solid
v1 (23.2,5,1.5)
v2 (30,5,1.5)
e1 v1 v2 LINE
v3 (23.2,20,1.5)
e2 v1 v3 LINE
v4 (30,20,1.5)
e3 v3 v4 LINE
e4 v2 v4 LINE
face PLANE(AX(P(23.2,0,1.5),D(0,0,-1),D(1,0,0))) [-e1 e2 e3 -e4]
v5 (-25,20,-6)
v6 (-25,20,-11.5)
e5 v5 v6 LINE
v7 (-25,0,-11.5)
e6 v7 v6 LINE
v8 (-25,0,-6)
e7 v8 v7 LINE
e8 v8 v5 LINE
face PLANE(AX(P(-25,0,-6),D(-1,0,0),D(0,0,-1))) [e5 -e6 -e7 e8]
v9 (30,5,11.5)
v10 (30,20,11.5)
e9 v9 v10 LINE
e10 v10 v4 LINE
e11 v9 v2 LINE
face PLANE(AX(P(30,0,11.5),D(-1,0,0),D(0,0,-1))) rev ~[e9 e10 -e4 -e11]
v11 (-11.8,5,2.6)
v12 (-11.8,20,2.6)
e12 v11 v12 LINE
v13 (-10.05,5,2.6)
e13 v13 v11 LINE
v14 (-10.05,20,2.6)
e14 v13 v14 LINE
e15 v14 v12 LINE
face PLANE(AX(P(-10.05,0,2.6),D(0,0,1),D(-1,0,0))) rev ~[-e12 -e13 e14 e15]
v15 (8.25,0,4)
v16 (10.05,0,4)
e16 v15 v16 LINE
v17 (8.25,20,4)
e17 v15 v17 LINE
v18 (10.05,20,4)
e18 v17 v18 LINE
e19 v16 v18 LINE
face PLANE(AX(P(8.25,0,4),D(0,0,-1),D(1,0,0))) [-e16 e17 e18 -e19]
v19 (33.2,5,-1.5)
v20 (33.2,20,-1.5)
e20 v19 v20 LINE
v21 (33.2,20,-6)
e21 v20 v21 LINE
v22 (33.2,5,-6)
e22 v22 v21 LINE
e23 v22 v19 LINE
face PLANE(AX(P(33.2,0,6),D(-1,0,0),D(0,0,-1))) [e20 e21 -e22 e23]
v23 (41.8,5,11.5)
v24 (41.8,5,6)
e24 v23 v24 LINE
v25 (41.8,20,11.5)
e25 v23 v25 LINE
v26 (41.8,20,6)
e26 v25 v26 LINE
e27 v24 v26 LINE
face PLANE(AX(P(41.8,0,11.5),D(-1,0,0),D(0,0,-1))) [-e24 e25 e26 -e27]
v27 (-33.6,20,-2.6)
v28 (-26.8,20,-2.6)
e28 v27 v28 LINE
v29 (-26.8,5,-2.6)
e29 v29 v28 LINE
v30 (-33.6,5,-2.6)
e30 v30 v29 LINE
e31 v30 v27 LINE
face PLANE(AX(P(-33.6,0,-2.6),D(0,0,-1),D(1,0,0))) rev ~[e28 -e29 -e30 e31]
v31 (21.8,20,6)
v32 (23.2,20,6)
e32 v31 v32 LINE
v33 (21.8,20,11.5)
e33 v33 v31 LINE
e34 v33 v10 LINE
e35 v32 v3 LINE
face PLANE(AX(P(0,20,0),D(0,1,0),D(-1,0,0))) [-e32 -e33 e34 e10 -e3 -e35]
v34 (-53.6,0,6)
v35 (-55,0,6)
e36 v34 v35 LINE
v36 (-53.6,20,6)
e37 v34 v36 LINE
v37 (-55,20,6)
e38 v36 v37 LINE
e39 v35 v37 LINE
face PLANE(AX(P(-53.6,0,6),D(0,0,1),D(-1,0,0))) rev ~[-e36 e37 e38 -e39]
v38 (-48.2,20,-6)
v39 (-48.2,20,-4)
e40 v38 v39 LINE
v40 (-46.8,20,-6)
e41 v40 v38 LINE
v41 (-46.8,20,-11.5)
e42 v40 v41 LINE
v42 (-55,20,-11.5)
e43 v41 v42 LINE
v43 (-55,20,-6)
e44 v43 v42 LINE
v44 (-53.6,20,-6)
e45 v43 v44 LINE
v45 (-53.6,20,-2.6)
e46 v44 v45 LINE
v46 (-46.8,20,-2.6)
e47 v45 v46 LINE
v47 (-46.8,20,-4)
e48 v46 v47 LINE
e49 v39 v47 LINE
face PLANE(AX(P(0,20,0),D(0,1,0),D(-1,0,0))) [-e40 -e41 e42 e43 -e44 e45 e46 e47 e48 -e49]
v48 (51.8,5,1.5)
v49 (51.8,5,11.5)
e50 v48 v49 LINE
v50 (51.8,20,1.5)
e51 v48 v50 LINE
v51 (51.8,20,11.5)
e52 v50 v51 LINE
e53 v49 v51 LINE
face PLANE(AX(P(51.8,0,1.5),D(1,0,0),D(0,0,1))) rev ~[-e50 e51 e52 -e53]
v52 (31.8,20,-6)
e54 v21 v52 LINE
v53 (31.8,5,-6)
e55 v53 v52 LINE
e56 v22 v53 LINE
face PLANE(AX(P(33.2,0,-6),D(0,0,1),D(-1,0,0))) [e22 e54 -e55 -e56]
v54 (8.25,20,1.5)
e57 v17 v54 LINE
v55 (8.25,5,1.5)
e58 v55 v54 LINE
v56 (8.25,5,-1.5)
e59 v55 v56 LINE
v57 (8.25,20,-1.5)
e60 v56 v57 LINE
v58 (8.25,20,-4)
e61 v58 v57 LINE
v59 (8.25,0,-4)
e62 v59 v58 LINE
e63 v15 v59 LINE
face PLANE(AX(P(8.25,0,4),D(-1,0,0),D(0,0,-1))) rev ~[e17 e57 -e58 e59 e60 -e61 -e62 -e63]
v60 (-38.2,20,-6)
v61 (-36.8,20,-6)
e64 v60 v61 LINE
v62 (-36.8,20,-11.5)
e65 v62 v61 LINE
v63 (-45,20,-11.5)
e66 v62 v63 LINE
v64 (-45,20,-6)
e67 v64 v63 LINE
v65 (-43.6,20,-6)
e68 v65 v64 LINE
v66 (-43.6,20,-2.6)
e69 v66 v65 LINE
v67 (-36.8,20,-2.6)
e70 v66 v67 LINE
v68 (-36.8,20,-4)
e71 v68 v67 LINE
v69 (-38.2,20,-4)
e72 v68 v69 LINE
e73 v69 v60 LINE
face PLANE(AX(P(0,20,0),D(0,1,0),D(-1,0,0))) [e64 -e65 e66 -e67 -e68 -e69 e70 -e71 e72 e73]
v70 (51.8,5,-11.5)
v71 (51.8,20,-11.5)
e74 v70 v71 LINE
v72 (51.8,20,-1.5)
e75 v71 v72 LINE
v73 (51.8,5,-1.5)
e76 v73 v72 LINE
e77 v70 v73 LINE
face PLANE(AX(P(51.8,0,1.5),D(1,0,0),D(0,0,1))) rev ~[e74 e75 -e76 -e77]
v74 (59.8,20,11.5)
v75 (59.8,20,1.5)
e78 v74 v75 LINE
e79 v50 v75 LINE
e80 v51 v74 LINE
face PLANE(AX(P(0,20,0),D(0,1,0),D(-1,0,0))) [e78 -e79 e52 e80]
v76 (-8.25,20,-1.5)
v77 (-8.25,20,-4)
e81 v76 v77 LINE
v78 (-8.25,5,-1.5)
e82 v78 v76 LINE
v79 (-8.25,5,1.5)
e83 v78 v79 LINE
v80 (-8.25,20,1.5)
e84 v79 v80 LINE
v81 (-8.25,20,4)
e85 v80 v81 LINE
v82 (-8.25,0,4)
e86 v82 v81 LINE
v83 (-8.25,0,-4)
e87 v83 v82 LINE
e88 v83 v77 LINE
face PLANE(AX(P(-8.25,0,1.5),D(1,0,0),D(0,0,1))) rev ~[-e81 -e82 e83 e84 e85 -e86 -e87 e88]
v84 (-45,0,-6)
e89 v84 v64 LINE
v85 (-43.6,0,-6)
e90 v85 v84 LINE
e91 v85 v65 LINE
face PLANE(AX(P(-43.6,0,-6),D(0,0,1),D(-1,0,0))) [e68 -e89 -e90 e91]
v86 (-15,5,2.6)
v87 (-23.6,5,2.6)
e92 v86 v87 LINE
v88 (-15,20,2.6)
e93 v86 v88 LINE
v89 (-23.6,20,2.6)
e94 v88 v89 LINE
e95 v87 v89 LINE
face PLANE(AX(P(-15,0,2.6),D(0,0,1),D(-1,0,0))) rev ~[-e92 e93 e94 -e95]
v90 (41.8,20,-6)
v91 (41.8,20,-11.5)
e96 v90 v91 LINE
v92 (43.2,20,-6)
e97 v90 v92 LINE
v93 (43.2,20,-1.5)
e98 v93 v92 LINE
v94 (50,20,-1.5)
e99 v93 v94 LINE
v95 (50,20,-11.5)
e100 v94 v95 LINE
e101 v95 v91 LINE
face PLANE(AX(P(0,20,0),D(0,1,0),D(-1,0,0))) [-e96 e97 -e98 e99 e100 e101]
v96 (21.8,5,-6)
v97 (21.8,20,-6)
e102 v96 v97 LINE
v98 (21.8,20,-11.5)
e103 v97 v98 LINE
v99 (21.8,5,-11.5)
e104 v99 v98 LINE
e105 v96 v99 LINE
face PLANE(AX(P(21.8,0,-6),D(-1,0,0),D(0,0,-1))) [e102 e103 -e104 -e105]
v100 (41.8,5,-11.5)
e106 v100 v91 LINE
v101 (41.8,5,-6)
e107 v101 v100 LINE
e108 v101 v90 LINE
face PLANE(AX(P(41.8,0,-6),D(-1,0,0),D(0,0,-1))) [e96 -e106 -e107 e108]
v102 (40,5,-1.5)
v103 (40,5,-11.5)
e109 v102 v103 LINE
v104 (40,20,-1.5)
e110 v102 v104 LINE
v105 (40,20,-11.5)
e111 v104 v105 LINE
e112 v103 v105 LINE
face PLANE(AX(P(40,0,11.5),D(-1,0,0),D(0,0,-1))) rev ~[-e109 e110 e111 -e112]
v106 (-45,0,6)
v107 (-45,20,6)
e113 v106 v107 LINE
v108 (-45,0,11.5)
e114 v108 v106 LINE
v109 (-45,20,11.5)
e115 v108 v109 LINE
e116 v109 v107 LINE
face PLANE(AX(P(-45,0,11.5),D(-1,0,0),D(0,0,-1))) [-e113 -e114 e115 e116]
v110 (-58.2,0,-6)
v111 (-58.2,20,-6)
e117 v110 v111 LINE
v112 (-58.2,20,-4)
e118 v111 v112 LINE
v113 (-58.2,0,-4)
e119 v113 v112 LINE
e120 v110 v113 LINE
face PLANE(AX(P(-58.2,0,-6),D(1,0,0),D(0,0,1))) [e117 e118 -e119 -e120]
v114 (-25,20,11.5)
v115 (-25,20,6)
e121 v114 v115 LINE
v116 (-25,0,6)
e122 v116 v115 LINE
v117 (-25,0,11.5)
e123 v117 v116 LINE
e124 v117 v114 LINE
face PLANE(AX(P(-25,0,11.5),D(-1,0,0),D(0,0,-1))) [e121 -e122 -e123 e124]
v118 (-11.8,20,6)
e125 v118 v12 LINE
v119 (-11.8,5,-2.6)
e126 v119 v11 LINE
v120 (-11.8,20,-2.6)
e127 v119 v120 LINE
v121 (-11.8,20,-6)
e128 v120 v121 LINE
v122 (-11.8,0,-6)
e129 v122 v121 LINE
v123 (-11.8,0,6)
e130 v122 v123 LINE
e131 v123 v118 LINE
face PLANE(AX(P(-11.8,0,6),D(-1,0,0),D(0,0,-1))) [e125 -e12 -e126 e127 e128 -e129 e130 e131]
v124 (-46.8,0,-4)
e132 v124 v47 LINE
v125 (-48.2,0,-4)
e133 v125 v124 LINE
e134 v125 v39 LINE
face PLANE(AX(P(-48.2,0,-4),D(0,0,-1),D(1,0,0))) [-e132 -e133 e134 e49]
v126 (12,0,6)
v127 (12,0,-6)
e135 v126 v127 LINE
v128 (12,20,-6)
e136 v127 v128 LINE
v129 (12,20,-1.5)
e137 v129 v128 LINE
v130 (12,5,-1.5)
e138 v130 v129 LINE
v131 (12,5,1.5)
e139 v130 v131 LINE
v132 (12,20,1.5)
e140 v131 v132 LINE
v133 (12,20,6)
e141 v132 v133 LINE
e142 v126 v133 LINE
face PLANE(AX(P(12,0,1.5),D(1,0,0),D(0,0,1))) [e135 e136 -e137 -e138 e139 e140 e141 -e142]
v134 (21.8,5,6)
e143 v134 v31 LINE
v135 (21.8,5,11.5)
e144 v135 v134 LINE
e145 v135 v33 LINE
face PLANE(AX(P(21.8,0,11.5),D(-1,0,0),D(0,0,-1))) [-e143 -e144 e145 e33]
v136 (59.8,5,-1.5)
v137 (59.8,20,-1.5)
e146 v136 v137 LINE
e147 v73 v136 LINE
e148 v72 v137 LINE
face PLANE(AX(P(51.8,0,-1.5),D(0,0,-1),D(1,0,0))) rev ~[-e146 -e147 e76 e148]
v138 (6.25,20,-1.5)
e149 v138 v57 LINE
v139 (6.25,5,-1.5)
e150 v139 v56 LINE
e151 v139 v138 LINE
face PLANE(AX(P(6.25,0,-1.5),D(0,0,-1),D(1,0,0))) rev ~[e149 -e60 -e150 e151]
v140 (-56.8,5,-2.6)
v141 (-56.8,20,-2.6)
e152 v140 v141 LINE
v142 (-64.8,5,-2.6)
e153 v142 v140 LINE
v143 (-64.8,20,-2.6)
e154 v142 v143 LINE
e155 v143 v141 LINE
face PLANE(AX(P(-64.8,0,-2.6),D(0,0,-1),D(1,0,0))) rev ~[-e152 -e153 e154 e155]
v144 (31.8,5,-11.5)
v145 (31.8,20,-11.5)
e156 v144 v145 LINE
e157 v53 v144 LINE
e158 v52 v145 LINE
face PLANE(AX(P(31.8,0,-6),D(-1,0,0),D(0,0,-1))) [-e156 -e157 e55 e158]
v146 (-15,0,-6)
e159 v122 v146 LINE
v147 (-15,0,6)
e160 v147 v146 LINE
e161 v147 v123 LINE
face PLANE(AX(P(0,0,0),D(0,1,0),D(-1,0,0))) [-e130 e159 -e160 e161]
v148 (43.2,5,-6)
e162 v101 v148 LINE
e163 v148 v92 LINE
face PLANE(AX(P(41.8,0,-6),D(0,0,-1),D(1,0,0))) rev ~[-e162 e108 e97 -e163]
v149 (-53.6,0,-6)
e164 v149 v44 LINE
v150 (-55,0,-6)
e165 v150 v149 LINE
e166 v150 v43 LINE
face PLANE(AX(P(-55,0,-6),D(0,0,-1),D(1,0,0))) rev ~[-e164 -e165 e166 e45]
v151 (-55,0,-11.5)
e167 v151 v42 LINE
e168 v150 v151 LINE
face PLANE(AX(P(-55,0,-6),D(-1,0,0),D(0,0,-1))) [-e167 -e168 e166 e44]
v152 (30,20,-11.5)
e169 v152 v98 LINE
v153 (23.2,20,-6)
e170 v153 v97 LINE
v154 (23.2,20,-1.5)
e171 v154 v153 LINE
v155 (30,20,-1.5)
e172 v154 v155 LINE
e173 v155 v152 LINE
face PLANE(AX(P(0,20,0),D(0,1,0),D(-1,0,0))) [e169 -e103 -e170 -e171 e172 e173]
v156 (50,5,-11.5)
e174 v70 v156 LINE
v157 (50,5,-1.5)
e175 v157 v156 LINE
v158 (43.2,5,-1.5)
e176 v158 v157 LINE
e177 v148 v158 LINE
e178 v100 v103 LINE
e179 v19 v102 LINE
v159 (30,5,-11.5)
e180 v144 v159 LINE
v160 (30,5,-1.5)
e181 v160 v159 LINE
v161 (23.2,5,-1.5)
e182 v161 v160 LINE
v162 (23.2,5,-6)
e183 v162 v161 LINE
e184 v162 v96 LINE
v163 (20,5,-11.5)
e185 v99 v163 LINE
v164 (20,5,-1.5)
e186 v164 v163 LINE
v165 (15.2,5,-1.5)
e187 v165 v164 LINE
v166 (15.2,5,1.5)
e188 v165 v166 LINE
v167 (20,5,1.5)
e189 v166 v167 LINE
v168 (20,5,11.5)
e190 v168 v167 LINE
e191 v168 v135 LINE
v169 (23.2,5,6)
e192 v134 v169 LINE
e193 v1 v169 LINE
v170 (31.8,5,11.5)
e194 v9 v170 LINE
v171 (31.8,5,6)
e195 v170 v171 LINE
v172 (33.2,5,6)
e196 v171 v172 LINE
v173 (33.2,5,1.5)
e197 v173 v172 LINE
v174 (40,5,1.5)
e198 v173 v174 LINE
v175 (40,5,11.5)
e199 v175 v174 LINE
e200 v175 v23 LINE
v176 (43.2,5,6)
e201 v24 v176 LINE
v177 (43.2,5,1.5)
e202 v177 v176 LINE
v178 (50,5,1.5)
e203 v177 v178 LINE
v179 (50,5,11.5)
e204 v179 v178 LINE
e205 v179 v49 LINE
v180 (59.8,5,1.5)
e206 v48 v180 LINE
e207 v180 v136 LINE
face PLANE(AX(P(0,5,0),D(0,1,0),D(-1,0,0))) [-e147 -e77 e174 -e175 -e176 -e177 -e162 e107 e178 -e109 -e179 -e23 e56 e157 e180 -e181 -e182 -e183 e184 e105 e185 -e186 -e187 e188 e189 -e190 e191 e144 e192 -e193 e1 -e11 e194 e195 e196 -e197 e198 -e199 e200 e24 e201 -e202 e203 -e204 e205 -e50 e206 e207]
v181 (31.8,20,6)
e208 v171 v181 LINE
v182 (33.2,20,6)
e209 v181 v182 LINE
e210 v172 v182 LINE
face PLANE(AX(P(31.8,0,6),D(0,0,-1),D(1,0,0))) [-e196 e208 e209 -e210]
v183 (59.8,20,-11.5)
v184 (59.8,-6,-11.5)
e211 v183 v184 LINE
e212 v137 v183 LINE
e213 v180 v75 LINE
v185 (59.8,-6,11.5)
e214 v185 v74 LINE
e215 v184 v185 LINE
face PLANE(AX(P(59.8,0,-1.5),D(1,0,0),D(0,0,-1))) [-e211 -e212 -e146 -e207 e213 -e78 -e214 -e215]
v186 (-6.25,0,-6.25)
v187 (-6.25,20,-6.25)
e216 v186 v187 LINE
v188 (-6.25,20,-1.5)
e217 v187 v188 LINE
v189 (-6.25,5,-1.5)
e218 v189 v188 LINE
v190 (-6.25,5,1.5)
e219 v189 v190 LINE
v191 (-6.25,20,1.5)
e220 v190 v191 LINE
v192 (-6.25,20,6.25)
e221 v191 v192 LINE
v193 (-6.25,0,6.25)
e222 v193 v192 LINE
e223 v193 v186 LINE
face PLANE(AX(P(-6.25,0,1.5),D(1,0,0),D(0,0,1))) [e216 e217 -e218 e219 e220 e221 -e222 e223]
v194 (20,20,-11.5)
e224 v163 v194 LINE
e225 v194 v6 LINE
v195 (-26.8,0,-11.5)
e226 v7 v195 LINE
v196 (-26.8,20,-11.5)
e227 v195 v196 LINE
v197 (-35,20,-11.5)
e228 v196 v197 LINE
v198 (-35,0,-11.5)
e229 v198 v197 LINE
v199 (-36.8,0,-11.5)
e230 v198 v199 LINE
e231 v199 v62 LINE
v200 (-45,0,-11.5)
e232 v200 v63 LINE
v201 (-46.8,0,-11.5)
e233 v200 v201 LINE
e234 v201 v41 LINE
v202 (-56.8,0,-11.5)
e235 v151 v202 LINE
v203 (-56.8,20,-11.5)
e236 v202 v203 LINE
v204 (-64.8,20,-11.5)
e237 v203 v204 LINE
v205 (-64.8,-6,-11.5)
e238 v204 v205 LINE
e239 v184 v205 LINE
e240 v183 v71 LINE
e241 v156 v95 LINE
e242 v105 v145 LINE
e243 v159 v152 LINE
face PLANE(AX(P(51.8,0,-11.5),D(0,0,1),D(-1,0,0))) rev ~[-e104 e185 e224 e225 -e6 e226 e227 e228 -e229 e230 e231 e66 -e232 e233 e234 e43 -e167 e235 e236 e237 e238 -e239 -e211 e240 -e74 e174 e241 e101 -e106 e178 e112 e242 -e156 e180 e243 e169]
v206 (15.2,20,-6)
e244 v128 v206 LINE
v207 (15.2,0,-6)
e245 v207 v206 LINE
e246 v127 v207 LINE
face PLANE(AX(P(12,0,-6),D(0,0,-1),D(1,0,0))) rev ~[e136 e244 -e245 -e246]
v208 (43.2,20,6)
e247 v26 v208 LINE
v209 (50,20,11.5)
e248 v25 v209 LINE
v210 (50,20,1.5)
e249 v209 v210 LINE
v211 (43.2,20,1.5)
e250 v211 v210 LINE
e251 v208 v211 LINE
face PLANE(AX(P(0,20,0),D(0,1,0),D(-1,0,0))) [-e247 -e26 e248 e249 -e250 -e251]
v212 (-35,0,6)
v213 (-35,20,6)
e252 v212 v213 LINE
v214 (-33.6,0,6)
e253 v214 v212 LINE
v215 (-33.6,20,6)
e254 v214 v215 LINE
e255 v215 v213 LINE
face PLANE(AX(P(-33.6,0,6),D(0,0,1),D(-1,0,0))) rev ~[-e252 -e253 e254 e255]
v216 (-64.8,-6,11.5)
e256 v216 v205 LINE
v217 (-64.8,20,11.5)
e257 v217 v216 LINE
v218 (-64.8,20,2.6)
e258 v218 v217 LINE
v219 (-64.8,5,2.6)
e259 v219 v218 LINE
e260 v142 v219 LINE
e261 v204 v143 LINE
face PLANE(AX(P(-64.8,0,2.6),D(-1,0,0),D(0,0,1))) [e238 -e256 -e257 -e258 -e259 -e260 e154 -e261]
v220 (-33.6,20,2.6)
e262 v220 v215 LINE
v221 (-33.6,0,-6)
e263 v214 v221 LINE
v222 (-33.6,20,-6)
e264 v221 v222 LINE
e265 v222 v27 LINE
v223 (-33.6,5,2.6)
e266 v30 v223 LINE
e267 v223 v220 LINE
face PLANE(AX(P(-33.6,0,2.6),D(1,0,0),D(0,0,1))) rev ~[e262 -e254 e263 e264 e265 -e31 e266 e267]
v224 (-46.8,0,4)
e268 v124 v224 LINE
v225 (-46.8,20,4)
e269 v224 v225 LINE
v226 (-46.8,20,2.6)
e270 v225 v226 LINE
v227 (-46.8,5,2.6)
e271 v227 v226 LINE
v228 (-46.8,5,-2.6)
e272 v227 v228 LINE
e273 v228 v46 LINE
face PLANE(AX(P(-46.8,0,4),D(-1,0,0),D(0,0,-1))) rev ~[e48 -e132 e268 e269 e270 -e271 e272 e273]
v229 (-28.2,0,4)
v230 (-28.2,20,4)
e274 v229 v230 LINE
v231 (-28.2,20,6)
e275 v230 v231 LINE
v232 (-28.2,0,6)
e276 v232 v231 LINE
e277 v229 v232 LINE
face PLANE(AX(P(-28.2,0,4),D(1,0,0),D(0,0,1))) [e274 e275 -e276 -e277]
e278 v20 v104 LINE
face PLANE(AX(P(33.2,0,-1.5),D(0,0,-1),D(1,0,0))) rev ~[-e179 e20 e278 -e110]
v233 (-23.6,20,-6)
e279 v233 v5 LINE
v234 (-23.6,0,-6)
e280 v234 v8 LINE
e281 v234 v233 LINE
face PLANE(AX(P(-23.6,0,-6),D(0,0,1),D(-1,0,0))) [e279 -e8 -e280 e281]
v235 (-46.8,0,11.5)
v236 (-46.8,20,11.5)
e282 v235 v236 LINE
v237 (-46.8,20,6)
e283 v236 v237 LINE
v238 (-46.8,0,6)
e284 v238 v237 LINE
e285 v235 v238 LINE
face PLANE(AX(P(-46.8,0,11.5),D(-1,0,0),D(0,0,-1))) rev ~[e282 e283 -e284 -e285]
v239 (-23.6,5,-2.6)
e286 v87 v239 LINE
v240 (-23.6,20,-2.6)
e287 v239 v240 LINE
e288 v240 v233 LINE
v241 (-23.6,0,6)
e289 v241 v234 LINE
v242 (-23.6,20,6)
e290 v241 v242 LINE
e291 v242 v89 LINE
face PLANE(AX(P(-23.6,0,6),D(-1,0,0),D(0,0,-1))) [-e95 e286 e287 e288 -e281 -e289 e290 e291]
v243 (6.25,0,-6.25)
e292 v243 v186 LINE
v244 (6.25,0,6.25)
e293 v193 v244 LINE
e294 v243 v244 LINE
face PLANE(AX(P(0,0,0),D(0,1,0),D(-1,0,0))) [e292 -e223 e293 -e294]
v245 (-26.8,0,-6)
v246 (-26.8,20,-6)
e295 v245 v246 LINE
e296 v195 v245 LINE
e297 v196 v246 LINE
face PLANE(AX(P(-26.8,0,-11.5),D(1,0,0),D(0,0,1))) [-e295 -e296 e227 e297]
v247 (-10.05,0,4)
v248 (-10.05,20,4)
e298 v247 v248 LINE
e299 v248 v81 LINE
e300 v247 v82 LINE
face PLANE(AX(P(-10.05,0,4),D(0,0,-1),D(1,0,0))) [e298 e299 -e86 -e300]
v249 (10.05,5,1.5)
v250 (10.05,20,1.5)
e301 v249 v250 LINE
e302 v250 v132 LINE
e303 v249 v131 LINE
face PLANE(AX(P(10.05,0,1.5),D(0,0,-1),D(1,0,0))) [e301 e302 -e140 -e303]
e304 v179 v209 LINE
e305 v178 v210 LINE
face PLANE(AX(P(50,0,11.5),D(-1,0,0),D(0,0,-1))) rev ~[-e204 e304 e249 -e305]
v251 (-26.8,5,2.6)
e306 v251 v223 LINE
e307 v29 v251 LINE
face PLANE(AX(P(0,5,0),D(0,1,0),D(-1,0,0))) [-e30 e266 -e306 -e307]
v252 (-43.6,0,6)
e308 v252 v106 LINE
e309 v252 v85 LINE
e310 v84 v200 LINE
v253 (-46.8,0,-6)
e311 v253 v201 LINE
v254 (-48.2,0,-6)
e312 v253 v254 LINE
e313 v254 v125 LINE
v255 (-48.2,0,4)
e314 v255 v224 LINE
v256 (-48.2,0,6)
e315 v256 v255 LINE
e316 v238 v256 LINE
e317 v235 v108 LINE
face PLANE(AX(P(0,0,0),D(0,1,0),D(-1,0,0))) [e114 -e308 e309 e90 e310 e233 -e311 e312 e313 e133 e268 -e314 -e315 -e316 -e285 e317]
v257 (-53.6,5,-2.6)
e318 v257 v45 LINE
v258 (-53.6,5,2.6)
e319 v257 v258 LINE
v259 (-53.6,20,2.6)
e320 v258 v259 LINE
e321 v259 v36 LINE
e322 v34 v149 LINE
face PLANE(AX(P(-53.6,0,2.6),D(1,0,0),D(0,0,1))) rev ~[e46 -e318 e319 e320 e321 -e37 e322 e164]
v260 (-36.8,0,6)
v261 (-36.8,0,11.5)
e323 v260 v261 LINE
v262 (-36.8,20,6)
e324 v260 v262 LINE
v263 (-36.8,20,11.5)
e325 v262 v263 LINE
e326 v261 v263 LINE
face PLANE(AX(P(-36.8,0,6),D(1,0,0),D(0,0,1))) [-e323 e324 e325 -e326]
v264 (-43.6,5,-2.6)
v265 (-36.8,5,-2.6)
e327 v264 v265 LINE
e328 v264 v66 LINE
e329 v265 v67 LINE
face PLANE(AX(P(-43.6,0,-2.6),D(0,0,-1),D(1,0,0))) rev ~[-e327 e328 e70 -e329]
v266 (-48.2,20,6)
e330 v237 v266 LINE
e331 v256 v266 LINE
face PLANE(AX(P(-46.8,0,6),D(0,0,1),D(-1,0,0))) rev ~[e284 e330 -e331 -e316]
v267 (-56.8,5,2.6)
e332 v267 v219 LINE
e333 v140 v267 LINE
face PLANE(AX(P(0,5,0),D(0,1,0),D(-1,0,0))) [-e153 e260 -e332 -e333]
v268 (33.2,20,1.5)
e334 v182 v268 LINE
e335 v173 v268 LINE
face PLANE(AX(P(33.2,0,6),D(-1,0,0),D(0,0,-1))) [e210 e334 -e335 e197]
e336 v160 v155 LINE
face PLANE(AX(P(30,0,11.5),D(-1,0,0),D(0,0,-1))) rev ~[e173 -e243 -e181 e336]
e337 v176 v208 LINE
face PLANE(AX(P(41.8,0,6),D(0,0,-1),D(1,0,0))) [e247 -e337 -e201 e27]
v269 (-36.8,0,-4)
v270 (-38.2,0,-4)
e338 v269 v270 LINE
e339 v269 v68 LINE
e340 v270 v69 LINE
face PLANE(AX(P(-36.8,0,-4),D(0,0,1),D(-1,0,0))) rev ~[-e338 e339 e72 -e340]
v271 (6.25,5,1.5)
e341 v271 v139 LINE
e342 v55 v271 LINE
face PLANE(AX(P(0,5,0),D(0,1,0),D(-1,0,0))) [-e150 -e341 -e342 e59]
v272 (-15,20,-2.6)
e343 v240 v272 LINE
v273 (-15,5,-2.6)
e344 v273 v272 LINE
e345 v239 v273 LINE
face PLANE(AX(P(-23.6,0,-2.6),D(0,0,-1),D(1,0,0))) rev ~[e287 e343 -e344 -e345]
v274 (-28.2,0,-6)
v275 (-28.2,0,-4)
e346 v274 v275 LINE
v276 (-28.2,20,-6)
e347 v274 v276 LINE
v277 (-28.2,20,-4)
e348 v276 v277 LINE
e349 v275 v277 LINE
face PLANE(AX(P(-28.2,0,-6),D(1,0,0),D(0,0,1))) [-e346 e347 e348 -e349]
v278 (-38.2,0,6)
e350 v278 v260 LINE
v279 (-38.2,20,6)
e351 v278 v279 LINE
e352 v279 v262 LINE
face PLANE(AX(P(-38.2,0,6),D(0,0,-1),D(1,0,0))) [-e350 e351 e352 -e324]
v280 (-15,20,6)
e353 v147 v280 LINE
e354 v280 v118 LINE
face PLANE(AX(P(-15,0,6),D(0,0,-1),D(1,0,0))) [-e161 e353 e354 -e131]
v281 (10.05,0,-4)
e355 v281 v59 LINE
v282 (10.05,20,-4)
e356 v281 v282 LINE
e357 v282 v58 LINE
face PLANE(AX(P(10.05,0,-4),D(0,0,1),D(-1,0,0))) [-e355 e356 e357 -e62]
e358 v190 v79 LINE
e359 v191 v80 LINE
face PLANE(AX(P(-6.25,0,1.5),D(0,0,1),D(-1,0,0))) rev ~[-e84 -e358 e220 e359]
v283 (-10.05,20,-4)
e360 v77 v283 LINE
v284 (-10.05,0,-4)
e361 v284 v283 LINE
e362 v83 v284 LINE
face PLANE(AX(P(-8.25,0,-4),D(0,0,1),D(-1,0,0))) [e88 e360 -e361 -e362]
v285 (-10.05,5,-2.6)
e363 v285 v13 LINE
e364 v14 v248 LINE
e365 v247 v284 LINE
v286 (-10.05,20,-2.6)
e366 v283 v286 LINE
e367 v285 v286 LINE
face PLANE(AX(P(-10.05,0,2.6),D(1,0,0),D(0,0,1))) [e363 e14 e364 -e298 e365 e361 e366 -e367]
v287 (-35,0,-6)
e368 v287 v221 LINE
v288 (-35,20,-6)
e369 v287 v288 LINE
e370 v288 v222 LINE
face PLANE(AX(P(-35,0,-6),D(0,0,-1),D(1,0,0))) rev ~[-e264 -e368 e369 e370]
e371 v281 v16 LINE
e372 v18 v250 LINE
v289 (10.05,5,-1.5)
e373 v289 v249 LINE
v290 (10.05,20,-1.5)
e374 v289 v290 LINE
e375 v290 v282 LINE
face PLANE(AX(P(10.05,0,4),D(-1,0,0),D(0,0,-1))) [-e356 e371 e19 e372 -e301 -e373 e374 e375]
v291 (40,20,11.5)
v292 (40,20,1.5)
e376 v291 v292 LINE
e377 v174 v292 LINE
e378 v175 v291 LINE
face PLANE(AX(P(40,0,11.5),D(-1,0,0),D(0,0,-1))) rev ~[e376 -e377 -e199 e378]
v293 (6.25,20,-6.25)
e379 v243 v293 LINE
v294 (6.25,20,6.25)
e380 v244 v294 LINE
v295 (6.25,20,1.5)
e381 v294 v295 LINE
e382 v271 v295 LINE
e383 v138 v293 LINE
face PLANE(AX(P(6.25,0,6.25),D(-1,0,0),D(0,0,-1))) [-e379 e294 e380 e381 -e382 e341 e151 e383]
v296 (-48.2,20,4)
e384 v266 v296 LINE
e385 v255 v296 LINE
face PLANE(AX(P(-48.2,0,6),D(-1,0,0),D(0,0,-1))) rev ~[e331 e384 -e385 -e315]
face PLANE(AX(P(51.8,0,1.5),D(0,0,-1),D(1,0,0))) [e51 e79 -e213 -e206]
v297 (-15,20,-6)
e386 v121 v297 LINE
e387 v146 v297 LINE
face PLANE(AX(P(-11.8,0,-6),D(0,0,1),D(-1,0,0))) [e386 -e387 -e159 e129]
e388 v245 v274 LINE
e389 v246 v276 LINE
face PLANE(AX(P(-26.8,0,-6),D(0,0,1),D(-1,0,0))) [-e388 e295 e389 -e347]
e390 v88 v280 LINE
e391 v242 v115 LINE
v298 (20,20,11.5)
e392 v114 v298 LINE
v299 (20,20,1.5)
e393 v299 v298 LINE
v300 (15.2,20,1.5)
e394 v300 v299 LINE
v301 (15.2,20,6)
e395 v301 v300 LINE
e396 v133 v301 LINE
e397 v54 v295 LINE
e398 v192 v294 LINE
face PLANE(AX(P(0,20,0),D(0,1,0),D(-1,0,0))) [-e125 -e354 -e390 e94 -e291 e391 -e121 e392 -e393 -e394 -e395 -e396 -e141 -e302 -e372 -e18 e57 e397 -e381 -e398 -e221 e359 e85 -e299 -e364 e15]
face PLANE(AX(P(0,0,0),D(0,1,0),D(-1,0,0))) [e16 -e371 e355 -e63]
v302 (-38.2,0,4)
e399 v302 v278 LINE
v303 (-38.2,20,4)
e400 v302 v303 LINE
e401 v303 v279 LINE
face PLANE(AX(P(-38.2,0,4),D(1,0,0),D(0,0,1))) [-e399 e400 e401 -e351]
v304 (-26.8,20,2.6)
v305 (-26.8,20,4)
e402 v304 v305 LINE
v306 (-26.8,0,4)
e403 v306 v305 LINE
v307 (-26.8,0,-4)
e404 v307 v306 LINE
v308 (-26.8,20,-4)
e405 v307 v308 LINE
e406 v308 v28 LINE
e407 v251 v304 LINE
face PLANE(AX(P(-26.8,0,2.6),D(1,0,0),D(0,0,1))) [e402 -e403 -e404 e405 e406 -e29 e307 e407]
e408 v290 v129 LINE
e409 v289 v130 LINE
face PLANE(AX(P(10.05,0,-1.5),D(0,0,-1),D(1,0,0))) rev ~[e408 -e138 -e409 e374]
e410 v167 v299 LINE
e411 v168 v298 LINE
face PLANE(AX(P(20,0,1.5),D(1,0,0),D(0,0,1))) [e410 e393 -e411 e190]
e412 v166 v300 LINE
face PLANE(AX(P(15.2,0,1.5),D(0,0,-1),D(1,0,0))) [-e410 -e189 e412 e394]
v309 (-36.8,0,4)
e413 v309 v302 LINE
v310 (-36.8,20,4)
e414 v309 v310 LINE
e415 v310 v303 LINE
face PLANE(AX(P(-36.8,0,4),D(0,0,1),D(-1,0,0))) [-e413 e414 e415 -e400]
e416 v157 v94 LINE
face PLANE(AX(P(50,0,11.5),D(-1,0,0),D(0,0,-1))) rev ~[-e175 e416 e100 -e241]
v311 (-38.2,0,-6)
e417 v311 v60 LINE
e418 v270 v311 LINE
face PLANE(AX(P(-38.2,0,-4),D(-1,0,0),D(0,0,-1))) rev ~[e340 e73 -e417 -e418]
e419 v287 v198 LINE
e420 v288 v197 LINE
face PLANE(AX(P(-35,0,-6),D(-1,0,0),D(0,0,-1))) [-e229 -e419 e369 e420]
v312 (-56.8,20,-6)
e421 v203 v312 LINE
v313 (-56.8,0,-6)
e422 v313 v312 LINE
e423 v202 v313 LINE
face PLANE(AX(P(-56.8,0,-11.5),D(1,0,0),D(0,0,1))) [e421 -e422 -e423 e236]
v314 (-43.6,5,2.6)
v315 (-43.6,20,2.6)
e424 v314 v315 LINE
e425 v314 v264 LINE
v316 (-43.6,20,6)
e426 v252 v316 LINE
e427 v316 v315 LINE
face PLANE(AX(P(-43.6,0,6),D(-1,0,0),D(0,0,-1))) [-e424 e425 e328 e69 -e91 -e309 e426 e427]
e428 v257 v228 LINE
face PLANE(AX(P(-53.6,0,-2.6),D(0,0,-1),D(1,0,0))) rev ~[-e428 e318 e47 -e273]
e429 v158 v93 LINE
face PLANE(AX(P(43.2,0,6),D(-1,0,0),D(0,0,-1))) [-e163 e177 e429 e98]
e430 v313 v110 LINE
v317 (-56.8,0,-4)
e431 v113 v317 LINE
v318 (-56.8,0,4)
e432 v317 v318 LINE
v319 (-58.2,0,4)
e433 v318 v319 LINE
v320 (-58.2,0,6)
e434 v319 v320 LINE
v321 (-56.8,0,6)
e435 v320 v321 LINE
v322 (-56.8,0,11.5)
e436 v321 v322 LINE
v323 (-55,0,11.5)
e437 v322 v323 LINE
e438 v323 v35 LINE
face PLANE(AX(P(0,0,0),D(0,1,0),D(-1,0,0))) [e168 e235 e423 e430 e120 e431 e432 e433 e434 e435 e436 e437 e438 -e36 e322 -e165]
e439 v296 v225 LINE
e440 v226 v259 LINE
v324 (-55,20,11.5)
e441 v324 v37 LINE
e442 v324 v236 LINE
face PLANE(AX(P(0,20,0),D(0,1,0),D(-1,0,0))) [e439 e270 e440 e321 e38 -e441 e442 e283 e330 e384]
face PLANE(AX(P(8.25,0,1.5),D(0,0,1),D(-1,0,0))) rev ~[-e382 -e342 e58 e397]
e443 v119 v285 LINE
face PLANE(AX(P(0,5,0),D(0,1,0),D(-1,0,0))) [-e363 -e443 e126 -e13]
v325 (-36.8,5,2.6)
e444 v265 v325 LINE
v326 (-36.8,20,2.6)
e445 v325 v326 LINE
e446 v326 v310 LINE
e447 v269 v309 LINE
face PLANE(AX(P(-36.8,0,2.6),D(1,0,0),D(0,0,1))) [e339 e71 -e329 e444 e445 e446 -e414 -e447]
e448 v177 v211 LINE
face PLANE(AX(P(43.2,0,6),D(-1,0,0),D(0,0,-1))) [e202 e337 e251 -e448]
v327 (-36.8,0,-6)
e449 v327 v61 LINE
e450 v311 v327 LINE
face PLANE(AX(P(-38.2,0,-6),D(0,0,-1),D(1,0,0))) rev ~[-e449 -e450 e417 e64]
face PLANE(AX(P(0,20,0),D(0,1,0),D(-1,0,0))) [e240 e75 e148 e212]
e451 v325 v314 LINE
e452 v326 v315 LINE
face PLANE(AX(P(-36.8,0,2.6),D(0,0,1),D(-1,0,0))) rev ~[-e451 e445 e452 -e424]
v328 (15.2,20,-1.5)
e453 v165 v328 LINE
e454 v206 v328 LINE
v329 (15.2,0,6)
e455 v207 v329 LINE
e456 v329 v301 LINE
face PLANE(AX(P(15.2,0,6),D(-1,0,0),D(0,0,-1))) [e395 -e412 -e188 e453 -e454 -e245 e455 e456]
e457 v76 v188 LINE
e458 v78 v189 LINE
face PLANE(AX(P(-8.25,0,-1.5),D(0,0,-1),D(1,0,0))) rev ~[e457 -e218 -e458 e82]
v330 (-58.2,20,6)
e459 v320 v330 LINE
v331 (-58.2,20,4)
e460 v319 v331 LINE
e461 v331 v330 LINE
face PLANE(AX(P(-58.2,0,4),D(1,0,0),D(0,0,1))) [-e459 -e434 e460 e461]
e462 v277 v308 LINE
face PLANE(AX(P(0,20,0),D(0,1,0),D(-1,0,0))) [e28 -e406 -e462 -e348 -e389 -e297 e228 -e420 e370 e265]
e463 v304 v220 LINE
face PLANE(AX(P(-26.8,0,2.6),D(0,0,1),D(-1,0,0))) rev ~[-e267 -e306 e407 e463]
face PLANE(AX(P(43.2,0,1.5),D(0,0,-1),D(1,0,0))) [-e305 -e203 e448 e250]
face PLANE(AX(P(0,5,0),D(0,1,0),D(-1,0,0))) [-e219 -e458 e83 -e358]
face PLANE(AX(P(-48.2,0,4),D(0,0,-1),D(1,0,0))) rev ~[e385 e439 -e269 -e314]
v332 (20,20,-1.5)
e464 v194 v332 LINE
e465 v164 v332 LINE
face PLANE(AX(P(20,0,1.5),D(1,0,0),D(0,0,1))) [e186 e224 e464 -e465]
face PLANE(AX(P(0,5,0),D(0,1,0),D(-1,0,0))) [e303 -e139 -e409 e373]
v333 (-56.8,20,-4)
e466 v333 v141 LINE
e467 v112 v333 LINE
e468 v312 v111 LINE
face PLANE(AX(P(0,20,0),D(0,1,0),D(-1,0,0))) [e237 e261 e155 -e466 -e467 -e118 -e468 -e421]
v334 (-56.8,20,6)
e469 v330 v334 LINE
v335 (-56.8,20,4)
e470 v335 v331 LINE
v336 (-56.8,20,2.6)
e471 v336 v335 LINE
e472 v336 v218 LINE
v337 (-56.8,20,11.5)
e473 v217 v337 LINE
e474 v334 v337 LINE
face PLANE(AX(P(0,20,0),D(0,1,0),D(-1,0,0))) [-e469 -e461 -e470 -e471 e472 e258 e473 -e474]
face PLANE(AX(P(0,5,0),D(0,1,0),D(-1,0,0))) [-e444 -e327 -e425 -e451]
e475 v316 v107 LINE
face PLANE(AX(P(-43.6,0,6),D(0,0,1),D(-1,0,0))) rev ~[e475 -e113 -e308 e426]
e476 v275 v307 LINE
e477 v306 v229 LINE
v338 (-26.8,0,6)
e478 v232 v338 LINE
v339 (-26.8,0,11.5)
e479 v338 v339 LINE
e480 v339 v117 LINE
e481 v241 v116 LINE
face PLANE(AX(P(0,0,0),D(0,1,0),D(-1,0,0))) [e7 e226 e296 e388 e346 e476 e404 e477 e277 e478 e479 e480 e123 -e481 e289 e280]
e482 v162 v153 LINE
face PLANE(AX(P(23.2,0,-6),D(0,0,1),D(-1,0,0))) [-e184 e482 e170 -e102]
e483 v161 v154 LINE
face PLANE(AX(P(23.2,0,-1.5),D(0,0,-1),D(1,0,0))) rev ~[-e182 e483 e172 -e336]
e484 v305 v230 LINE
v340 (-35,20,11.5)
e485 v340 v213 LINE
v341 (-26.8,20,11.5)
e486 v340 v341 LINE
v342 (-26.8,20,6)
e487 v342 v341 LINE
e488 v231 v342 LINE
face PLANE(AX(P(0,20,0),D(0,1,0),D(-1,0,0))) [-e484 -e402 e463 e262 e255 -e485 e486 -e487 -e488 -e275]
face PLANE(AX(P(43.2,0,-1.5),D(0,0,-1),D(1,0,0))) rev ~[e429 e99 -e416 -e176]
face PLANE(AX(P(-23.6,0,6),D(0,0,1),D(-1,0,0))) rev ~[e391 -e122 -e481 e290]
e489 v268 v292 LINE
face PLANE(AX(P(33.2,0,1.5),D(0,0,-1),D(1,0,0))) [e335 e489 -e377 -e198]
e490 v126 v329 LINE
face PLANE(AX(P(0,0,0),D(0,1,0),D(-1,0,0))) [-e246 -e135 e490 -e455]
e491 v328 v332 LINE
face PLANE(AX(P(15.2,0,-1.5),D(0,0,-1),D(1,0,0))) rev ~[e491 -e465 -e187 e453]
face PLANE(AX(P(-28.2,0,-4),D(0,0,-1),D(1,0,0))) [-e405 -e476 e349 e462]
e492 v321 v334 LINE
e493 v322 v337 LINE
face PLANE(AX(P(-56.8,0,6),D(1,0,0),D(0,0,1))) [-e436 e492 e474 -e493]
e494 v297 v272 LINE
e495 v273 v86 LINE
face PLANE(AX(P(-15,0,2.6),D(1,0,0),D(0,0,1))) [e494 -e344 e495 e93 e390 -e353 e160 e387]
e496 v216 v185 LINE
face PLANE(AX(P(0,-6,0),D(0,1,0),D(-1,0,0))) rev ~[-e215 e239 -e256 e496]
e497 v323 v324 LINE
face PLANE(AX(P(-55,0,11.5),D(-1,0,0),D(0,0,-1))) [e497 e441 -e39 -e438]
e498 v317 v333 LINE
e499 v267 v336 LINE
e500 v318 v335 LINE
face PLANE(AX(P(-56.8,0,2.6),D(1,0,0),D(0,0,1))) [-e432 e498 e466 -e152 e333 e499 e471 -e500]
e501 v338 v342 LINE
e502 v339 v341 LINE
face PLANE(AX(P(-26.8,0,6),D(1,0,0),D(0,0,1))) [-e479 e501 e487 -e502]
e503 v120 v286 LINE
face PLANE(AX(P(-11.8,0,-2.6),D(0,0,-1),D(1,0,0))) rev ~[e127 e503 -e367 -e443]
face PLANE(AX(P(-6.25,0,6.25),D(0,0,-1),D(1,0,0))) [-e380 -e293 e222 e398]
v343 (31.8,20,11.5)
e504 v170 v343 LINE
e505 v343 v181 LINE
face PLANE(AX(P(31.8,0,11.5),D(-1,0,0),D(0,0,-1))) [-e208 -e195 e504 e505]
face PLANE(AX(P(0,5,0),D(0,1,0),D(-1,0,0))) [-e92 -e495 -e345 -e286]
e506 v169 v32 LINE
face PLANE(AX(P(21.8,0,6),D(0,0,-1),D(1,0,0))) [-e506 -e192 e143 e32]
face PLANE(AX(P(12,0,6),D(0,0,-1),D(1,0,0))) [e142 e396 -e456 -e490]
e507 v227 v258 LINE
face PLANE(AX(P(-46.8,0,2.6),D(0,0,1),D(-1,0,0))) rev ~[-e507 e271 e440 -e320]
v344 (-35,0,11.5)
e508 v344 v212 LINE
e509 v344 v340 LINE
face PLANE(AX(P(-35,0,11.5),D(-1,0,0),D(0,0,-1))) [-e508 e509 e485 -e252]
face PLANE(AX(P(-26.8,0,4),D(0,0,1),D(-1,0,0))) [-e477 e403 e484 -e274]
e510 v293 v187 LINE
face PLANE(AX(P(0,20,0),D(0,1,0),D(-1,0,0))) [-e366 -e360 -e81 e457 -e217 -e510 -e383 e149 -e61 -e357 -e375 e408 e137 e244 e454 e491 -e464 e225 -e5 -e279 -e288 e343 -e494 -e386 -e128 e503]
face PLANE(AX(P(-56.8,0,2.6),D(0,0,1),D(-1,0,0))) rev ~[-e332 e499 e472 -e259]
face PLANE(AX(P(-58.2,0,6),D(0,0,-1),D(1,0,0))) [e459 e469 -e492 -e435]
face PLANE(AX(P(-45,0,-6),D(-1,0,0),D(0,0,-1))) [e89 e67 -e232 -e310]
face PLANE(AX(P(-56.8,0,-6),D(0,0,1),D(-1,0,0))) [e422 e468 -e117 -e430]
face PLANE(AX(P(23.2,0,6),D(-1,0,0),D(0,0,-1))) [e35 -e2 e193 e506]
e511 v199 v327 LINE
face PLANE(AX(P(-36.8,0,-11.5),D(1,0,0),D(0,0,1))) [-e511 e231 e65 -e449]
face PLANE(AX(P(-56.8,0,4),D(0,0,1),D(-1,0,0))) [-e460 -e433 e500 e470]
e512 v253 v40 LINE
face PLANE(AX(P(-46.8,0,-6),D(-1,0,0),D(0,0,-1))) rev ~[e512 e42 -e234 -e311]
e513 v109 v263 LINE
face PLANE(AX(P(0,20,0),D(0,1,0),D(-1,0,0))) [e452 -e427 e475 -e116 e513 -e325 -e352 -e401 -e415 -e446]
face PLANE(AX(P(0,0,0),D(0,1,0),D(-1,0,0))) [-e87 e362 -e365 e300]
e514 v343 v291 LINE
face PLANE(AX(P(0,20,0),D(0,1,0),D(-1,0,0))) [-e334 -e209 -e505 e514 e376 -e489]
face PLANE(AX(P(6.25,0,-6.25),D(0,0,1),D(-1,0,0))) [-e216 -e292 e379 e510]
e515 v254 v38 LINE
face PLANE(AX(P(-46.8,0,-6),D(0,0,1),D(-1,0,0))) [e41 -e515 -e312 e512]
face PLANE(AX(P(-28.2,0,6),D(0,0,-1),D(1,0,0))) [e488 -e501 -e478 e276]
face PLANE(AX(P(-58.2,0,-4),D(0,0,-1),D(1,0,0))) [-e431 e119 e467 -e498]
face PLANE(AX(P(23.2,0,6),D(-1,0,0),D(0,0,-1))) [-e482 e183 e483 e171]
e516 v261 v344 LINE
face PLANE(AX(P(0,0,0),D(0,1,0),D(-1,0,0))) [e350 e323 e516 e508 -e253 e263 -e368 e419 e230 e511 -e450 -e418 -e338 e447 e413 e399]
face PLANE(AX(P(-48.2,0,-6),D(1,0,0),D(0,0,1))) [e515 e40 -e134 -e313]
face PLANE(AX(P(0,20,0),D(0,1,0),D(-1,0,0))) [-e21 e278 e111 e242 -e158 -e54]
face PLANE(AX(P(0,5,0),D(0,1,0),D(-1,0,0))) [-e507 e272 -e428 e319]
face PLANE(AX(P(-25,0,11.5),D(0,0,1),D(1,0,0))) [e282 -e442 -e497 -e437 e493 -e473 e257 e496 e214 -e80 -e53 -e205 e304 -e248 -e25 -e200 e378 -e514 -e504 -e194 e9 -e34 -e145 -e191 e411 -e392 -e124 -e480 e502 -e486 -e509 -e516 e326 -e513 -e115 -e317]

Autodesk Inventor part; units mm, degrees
ref_plane "YZ Plane" through (0, 0, 0) normal (1, 0, 0) x (0, 1, 0)
ref_plane "XZ Plane" through (0, 0, 0) normal (0, 1, 0) x (-1, 0, 0)
ref_plane "XY Plane" through (0, 0, 0) normal (0, 0, 1) x (1, 0, 0)
sketch "Sketch1" plane through (0, 0, 0) normal (0, 1, 0) x (-1, 0, 0)
  line L0 (6.25, 6.25) -> (-6.25, 6.25)
  line L1 (-6.25, 6.25) -> (-6.25, -6.25)
  line L2 (-6.25, -6.25) -> (6.25, -6.25)
  line L3 (6.25, -6.25) -> (6.25, 6.25)
  line L4 (64.8, 11.5) -> (-59.8, 11.5)
  line L5 (-59.8, 11.5) -> (-59.8, -11.5)
  line L6 (-59.8, -11.5) -> (64.8, -11.5)
  line L7 (64.8, -11.5) -> (64.8, 11.5)
  line L8 (70.7232, 0) -> (42.7232, 0) construction
  line L9 (0, 23.25) -> (0, -23.25) construction
  line L10 (-20, -11.5) -> (-20, 11.5)
  line L11 (-30, 11.5) -> (-30, -11.5)
  line L12 (-40, 11.5) -> (-40, -11.5)
  line L13 (-50, 11.5) -> (-50, -11.5)
  line L14 (-51.8, -11.5) -> (-51.8, 11.5)
  line L15 (8.25, -1.5) -> (8.25, -4)
  line L16 (8.25, -1.5) -> (6.25, -1.5)
  line L17 (6.25, 1.5) -> (8.25, 1.5)
  line L18 (-6.25, -1.5) -> (-8.25, -1.5)
  line L19 (-8.25, 1.5) -> (-6.25, 1.5)
  line L20 (55, -6) -> (53.6, -6)
  line L21 (53.6, -6) -> (53.6, 6)
  line L22 (53.6, 6) -> (55, 6)
  line L23 (81.8109, -5) -> (17.0609, -5) construction
  line L24 (81.8109, 5) -> (17.4312, 5) construction
  line L25 (56.8, -6) -> (58.2, -6)
  line L26 (58.2, -6) -> (58.2, -4)
  line L27 (58.2, -4) -> (56.8, -4)
  line L28 (56.8, 4) -> (58.2, 4)
  line L29 (58.2, 4) -> (58.2, 6)
  line L30 (58.2, 6) -> (56.8, 6)
  line L31 (56.8, -11.5) -> (56.8, -6)
  line L32 (55, -6) -> (55, -11.5)
  line L33 (56.8, -4) -> (56.8, 4)
  line L34 (56.8, 6) -> (56.8, 11.5)
  line L35 (55, 11.5) -> (55, 6)
  line L36 (48.2, -6) -> (48.2, -4)
  line L37 (48.2, -4) -> (46.8, -4)
  line L38 (46.8, 6) -> (48.2, 6)
  line L39 (48.2, 6) -> (48.2, 4)
  line L40 (48.2, 4) -> (46.8, 4)
  line L41 (43.6, 6) -> (45, 6)
  line L42 (43.6, -6) -> (45, -6)
  line L43 (46.8, -6) -> (48.2, -6)
  line L44 (46.8, -6) -> (46.8, -11.5)
  line L45 (45, -6) -> (45, -11.5)
  line L46 (46.8, 11.5) -> (46.8, 6)
  line L47 (46.8, 4) -> (46.8, -4)
  line L48 (45, 11.5) -> (45, 6)
  line L49 (38.2, -4) -> (38.2, -6)
  line L50 (38.2, -6) -> (36.8, -6)
  line L51 (35, -6) -> (33.6, -6)
  line L52 (36.8, -4) -> (38.2, -4)
  line L53 (36.8, 4) -> (38.2, 4)
  line L54 (38.2, 4) -> (38.2, 6)
  line L55 (38.2, 6) -> (36.8, 6)
  line L56 (33.6, 6) -> (35, 6)
  line L57 (36.8, -11.5) -> (36.8, -6)
  line L58 (35, -6) -> (35, -11.5)
  line L59 (36.8, -4) -> (36.8, 4)
  line L60 (36.8, 6) -> (36.8, 11.5)
  line L61 (35, 11.5) -> (35, 6)
  line L62 (23.6, 6) -> (23.6, -6)
  line L63 (23.6, -6) -> (25, -6)
  line L64 (26.8, -6) -> (28.2, -6)
  line L65 (28.2, -6) -> (28.2, -4)
  line L66 (28.2, -4) -> (26.8, -4)
  line L67 (26.8, 4) -> (28.2, 4)
  line L68 (28.2, 4) -> (28.2, 6)
  line L69 (28.2, 6) -> (26.8, 6)
  line L70 (26.8, -11.5) -> (26.8, -6)
  line L71 (25, -6) -> (25, -11.5)
  line L72 (26.8, -4) -> (26.8, 4)
  line L73 (26.8, 6) -> (26.8, 11.5)
  line L74 (25, 11.5) -> (25, 6)
  line L75 (8.25, -4) -> (10.05, -4)
  line L76 (10.05, 4) -> (8.25, 4)
  line L77 (8.25, 1.5) -> (8.25, 4)
  line L78 (10.05, -4) -> (10.05, -2.6)
  line L79 (10.05, 2.6) -> (10.05, 4)
  line L80 (-8.25, 4) -> (-10.05, 4)
  line L81 (-10.05, 4) -> (-10.05, 1.5)
  line L82 (-10.05, -1.5) -> (-10.05, -4)
  line L83 (-10.05, -4) -> (-8.25, -4)
  line L84 (-8.25, -4) -> (-8.25, -1.5)
  line L85 (11.8, -2.6) -> (11.8, -6)
  line L86 (11.8, -6) -> (15, -6)
  line L87 (15, -6) -> (15, -2.6)
  line L88 (15, 2.6) -> (15, 6)
  line L89 (15, 6) -> (11.8, 6)
  line L90 (11.8, 6) -> (11.8, 2.6)
  line L91 (-12, -1.5) -> (-12, -6)
  line L92 (-12, -6) -> (-15.2, -6)
  line L93 (-15.2, -6) -> (-15.2, -1.5)
  line L94 (-12, 1.5) -> (-12, 6)
  line L95 (-12, 6) -> (-15.2, 6)
  line L96 (-15.2, 6) -> (-15.2, 1.5)
  line L97 (-10.05, -1.5) -> (-12, -1.5)
  line L98 (-10.05, 1.5) -> (-12, 1.5)
  line L99 (11.8, -2.6) -> (10.05, -2.6)
  line L100 (10.05, 2.6) -> (11.8, 2.6)
  line L101 (56.8, 2.6) -> (64.8, 2.6)
  line L102 (64.8, -2.6) -> (56.8, -2.6)
  line L103 (53.6, -2.6) -> (46.8, -2.6)
  line L104 (46.8, 2.6) -> (53.6, 2.6)
  line L105 (43.6, -2.6) -> (36.8, -2.6)
  line L106 (36.8, 2.6) -> (43.6, 2.6)
  line L107 (33.6, -2.6) -> (26.8, -2.6)
  line L108 (23.6, -2.6) -> (15, -2.6)
  line L109 (15, 2.6) -> (23.6, 2.6)
  line L110 (26.8, 2.6) -> (33.6, 2.6)
  line L111 (-15.2, -1.5) -> (-20, -1.5)
  line L112 (-15.2, 1.5) -> (-20, 1.5)
  line L113 (-51.8, -1.5) -> (-59.8, -1.5)
  line L114 (-51.8, 1.5) -> (-59.8, 1.5)
  line L115 (15, -2.6) -> (15, 2.6)
  line L116 (11.8, -2.6) -> (11.8, 2.6)
  line L117 (10.05, -2.6) -> (10.05, 2.6)
  line L118 (8.25, -1.5) -> (8.25, 1.5)
  line L119 (-10.05, -1.5) -> (-10.05, 1.5)
  line L120 (-12, -1.5) -> (-12, 1.5)
  line L121 (-15.2, -1.5) -> (-15.2, 1.5)
  line L122 (-8.25, 4) -> (-8.25, 1.5)
  line L123 (-8.25, 1.5) -> (-8.25, -1.5)
  line L124 (33.6, -6) -> (33.6, 6)
  line L125 (43.6, 6) -> (43.6, -6)
  line L126 (23.6, 6) -> (25, 6)
  line L127 (-21.8, 6) -> (-23.2, 6)
  line L128 (-23.2, 6) -> (-23.2, 1.5)
  line L129 (-23.2, -1.5) -> (-23.2, -6)
  line L130 (-23.2, -6) -> (-21.8, -6)
  line L131 (-21.8, 11.5) -> (-21.8, 6)
  line L132 (-21.8, -6) -> (-21.8, -11.5)
  line L133 (-23.2, 1.5) -> (-23.2, -1.5)
  line L134 (-23.2, 1.5) -> (-30, 1.5)
  line L135 (-23.2, -1.5) -> (-30, -1.5)
  line L136 (-31.8, 6) -> (-33.2, 6)
  line L137 (-33.2, 6) -> (-33.2, 1.5)
  line L138 (-33.2, -1.5) -> (-33.2, -6)
  line L139 (-33.2, -6) -> (-31.8, -6)
  line L140 (-33.2, -1.5) -> (-33.2, 1.5)
  line L141 (-41.8, 6) -> (-43.2, 6)
  line L142 (-43.2, 6) -> (-43.2, 1.5)
  line L143 (-43.2, -1.5) -> (-43.2, -6)
  line L144 (-41.8, -6) -> (-43.2, -6)
  line L145 (-43.2, 1.5) -> (-43.2, -1.5)
  line L146 (-33.2, 1.5) -> (-40, 1.5)
  line L147 (-33.2, -1.5) -> (-40, -1.5)
  line L148 (-43.2, 1.5) -> (-50, 1.5)
  line L149 (-43.2, -1.5) -> (-50, -1.5)
  line L150 (-41.8, 11.5) -> (-41.8, 6)
  line L151 (-41.8, -6) -> (-41.8, -11.5)
  line L152 (-31.8, 11.5) -> (-31.8, 6)
  line L153 (-31.8, -6) -> (-31.8, -11.5)
  point P0 (0, 0)
  point P1 (0, 0)
  point P2 (0, 0)
  dimension "d0" = 12.5
  dimension "d1" = 12.5
  dimension "d3" = 23
  dimension "d24" = 1.8
  dimension "d62" = 3
  dimension "d96" = 10
  dimension "d97" = 1.8
  dimension "d99" = 1.8
  dimension "d101" = 1.8
  dimension "d103" = 1.8
  dimension "d113" = 8
  dimension "d114" = 1.8
  dimension "d117" = 25
  dimension "d118" = 20
  dimension "d119" = 2
  dimension "d120" = 2
  dimension "d132" = 5.2
  dimension "d133" = 3
  dimension "d135" = 3.2
  dimension "d136" = 3.2
  dimension "d137" = 10
  dimension "d139" = 2
  dimension "d144" = 3.2
  dimension "d145" = 4.8
  dimension "d146" = 10
  dimension "d147" = 10
  dimension "d148" = 10
  dimension "d149" = 1.8
  dimension "d150" = 3.2
  dimension "d151" = 1.8
  dimension "d152" = 1.8
  dimension "d153" = 3.2
  dimension "d154" = 3.2
  dimension "d155" = 10
  dimension "d156" = 10
  dimension "d157" = 10
  dimension "d158" = 8
  dimension "d159" = 8
extrude "Extrusion10" add sketch "Sketch1" against normal blind 6
extrude "Extrusion16" add sketch "Sketch1" along normal blind 20 contours L0 L1 L19 L122 L80 L81 L98 L94 L95 L96 L112 L10 L4 L74 L126 L62 L109 L88 L89 L90 L100 L79 L76 L77 L17 L3 | L16 L15 L75 L78 L99 L85 L86 L87 L108 L62 L63 L71 L6 L10 L111 L93 L92 L91 L97 L82 L83 L84 L18 L1 L2 L3 | L131 L127 L128 L134 L11 L4 | L6 L11 L135 L129 L130 L132 | L4 L61 L56 L124 L110 L72 L67 L68 L69 L73 | L70 L64 L65 L66 L72 L107 L124 L51 L58 L6 | L152 L136 L137 L146 L12 L4 | L6 L12 L147 L138 L139 L153 | L4 L48 L41 L125 L106 L59 L53 L54 L55 L60 | L57 L50 L49 L52 L59 L105 L125 L42 L45 L6 | L150 L141 L142 L148 L13 L4 | L6 L13 L149 L143 L144 L151 | L4 L35 L22 L21 L104 L47 L40 L39 L38 L46 | L44 L43 L36 L37 L47 L103 L21 L20 L32 L6 | L14 L114 L5 L4 | L6 L5 L113 L14 | L4 L7 L101 L33 L28 L29 L30 L34 | L31 L25 L26 L27 L33 L102 L7 L6
extrude "Extrusion17" add sketch "Sketch1" along normal blind 5 contours L17 L118 L16 L3 | L1 L18 L123 L19 | L100 L116 L99 L117 | L119 L97 L120 L98 | L109 L62 L108 L115 | L121 L111 L10 L112 | L134 L133 L135 L11 | L146 L140 L147 L12 | L124 L107 L72 L110 | L148 L145 L149 L13 | L125 L105 L59 L106 | L14 L113 L5 L114 | L7 L102 L33 L101 | L21 L103 L47 L104
extrude "Extrusion18" add sketch "Sketch1" along normal blind 5 contours L10 L6 L132 L130 L129 L133 L128 L127 L131 L4 | L11 L6 L153 L139 L138 L140 L137 L136 L152 L4 | L12 L6 L151 L144 L143 L145 L142 L141 L150 L4 | L13 L6 L14 L4
properties part number "Distance_test_rig"
